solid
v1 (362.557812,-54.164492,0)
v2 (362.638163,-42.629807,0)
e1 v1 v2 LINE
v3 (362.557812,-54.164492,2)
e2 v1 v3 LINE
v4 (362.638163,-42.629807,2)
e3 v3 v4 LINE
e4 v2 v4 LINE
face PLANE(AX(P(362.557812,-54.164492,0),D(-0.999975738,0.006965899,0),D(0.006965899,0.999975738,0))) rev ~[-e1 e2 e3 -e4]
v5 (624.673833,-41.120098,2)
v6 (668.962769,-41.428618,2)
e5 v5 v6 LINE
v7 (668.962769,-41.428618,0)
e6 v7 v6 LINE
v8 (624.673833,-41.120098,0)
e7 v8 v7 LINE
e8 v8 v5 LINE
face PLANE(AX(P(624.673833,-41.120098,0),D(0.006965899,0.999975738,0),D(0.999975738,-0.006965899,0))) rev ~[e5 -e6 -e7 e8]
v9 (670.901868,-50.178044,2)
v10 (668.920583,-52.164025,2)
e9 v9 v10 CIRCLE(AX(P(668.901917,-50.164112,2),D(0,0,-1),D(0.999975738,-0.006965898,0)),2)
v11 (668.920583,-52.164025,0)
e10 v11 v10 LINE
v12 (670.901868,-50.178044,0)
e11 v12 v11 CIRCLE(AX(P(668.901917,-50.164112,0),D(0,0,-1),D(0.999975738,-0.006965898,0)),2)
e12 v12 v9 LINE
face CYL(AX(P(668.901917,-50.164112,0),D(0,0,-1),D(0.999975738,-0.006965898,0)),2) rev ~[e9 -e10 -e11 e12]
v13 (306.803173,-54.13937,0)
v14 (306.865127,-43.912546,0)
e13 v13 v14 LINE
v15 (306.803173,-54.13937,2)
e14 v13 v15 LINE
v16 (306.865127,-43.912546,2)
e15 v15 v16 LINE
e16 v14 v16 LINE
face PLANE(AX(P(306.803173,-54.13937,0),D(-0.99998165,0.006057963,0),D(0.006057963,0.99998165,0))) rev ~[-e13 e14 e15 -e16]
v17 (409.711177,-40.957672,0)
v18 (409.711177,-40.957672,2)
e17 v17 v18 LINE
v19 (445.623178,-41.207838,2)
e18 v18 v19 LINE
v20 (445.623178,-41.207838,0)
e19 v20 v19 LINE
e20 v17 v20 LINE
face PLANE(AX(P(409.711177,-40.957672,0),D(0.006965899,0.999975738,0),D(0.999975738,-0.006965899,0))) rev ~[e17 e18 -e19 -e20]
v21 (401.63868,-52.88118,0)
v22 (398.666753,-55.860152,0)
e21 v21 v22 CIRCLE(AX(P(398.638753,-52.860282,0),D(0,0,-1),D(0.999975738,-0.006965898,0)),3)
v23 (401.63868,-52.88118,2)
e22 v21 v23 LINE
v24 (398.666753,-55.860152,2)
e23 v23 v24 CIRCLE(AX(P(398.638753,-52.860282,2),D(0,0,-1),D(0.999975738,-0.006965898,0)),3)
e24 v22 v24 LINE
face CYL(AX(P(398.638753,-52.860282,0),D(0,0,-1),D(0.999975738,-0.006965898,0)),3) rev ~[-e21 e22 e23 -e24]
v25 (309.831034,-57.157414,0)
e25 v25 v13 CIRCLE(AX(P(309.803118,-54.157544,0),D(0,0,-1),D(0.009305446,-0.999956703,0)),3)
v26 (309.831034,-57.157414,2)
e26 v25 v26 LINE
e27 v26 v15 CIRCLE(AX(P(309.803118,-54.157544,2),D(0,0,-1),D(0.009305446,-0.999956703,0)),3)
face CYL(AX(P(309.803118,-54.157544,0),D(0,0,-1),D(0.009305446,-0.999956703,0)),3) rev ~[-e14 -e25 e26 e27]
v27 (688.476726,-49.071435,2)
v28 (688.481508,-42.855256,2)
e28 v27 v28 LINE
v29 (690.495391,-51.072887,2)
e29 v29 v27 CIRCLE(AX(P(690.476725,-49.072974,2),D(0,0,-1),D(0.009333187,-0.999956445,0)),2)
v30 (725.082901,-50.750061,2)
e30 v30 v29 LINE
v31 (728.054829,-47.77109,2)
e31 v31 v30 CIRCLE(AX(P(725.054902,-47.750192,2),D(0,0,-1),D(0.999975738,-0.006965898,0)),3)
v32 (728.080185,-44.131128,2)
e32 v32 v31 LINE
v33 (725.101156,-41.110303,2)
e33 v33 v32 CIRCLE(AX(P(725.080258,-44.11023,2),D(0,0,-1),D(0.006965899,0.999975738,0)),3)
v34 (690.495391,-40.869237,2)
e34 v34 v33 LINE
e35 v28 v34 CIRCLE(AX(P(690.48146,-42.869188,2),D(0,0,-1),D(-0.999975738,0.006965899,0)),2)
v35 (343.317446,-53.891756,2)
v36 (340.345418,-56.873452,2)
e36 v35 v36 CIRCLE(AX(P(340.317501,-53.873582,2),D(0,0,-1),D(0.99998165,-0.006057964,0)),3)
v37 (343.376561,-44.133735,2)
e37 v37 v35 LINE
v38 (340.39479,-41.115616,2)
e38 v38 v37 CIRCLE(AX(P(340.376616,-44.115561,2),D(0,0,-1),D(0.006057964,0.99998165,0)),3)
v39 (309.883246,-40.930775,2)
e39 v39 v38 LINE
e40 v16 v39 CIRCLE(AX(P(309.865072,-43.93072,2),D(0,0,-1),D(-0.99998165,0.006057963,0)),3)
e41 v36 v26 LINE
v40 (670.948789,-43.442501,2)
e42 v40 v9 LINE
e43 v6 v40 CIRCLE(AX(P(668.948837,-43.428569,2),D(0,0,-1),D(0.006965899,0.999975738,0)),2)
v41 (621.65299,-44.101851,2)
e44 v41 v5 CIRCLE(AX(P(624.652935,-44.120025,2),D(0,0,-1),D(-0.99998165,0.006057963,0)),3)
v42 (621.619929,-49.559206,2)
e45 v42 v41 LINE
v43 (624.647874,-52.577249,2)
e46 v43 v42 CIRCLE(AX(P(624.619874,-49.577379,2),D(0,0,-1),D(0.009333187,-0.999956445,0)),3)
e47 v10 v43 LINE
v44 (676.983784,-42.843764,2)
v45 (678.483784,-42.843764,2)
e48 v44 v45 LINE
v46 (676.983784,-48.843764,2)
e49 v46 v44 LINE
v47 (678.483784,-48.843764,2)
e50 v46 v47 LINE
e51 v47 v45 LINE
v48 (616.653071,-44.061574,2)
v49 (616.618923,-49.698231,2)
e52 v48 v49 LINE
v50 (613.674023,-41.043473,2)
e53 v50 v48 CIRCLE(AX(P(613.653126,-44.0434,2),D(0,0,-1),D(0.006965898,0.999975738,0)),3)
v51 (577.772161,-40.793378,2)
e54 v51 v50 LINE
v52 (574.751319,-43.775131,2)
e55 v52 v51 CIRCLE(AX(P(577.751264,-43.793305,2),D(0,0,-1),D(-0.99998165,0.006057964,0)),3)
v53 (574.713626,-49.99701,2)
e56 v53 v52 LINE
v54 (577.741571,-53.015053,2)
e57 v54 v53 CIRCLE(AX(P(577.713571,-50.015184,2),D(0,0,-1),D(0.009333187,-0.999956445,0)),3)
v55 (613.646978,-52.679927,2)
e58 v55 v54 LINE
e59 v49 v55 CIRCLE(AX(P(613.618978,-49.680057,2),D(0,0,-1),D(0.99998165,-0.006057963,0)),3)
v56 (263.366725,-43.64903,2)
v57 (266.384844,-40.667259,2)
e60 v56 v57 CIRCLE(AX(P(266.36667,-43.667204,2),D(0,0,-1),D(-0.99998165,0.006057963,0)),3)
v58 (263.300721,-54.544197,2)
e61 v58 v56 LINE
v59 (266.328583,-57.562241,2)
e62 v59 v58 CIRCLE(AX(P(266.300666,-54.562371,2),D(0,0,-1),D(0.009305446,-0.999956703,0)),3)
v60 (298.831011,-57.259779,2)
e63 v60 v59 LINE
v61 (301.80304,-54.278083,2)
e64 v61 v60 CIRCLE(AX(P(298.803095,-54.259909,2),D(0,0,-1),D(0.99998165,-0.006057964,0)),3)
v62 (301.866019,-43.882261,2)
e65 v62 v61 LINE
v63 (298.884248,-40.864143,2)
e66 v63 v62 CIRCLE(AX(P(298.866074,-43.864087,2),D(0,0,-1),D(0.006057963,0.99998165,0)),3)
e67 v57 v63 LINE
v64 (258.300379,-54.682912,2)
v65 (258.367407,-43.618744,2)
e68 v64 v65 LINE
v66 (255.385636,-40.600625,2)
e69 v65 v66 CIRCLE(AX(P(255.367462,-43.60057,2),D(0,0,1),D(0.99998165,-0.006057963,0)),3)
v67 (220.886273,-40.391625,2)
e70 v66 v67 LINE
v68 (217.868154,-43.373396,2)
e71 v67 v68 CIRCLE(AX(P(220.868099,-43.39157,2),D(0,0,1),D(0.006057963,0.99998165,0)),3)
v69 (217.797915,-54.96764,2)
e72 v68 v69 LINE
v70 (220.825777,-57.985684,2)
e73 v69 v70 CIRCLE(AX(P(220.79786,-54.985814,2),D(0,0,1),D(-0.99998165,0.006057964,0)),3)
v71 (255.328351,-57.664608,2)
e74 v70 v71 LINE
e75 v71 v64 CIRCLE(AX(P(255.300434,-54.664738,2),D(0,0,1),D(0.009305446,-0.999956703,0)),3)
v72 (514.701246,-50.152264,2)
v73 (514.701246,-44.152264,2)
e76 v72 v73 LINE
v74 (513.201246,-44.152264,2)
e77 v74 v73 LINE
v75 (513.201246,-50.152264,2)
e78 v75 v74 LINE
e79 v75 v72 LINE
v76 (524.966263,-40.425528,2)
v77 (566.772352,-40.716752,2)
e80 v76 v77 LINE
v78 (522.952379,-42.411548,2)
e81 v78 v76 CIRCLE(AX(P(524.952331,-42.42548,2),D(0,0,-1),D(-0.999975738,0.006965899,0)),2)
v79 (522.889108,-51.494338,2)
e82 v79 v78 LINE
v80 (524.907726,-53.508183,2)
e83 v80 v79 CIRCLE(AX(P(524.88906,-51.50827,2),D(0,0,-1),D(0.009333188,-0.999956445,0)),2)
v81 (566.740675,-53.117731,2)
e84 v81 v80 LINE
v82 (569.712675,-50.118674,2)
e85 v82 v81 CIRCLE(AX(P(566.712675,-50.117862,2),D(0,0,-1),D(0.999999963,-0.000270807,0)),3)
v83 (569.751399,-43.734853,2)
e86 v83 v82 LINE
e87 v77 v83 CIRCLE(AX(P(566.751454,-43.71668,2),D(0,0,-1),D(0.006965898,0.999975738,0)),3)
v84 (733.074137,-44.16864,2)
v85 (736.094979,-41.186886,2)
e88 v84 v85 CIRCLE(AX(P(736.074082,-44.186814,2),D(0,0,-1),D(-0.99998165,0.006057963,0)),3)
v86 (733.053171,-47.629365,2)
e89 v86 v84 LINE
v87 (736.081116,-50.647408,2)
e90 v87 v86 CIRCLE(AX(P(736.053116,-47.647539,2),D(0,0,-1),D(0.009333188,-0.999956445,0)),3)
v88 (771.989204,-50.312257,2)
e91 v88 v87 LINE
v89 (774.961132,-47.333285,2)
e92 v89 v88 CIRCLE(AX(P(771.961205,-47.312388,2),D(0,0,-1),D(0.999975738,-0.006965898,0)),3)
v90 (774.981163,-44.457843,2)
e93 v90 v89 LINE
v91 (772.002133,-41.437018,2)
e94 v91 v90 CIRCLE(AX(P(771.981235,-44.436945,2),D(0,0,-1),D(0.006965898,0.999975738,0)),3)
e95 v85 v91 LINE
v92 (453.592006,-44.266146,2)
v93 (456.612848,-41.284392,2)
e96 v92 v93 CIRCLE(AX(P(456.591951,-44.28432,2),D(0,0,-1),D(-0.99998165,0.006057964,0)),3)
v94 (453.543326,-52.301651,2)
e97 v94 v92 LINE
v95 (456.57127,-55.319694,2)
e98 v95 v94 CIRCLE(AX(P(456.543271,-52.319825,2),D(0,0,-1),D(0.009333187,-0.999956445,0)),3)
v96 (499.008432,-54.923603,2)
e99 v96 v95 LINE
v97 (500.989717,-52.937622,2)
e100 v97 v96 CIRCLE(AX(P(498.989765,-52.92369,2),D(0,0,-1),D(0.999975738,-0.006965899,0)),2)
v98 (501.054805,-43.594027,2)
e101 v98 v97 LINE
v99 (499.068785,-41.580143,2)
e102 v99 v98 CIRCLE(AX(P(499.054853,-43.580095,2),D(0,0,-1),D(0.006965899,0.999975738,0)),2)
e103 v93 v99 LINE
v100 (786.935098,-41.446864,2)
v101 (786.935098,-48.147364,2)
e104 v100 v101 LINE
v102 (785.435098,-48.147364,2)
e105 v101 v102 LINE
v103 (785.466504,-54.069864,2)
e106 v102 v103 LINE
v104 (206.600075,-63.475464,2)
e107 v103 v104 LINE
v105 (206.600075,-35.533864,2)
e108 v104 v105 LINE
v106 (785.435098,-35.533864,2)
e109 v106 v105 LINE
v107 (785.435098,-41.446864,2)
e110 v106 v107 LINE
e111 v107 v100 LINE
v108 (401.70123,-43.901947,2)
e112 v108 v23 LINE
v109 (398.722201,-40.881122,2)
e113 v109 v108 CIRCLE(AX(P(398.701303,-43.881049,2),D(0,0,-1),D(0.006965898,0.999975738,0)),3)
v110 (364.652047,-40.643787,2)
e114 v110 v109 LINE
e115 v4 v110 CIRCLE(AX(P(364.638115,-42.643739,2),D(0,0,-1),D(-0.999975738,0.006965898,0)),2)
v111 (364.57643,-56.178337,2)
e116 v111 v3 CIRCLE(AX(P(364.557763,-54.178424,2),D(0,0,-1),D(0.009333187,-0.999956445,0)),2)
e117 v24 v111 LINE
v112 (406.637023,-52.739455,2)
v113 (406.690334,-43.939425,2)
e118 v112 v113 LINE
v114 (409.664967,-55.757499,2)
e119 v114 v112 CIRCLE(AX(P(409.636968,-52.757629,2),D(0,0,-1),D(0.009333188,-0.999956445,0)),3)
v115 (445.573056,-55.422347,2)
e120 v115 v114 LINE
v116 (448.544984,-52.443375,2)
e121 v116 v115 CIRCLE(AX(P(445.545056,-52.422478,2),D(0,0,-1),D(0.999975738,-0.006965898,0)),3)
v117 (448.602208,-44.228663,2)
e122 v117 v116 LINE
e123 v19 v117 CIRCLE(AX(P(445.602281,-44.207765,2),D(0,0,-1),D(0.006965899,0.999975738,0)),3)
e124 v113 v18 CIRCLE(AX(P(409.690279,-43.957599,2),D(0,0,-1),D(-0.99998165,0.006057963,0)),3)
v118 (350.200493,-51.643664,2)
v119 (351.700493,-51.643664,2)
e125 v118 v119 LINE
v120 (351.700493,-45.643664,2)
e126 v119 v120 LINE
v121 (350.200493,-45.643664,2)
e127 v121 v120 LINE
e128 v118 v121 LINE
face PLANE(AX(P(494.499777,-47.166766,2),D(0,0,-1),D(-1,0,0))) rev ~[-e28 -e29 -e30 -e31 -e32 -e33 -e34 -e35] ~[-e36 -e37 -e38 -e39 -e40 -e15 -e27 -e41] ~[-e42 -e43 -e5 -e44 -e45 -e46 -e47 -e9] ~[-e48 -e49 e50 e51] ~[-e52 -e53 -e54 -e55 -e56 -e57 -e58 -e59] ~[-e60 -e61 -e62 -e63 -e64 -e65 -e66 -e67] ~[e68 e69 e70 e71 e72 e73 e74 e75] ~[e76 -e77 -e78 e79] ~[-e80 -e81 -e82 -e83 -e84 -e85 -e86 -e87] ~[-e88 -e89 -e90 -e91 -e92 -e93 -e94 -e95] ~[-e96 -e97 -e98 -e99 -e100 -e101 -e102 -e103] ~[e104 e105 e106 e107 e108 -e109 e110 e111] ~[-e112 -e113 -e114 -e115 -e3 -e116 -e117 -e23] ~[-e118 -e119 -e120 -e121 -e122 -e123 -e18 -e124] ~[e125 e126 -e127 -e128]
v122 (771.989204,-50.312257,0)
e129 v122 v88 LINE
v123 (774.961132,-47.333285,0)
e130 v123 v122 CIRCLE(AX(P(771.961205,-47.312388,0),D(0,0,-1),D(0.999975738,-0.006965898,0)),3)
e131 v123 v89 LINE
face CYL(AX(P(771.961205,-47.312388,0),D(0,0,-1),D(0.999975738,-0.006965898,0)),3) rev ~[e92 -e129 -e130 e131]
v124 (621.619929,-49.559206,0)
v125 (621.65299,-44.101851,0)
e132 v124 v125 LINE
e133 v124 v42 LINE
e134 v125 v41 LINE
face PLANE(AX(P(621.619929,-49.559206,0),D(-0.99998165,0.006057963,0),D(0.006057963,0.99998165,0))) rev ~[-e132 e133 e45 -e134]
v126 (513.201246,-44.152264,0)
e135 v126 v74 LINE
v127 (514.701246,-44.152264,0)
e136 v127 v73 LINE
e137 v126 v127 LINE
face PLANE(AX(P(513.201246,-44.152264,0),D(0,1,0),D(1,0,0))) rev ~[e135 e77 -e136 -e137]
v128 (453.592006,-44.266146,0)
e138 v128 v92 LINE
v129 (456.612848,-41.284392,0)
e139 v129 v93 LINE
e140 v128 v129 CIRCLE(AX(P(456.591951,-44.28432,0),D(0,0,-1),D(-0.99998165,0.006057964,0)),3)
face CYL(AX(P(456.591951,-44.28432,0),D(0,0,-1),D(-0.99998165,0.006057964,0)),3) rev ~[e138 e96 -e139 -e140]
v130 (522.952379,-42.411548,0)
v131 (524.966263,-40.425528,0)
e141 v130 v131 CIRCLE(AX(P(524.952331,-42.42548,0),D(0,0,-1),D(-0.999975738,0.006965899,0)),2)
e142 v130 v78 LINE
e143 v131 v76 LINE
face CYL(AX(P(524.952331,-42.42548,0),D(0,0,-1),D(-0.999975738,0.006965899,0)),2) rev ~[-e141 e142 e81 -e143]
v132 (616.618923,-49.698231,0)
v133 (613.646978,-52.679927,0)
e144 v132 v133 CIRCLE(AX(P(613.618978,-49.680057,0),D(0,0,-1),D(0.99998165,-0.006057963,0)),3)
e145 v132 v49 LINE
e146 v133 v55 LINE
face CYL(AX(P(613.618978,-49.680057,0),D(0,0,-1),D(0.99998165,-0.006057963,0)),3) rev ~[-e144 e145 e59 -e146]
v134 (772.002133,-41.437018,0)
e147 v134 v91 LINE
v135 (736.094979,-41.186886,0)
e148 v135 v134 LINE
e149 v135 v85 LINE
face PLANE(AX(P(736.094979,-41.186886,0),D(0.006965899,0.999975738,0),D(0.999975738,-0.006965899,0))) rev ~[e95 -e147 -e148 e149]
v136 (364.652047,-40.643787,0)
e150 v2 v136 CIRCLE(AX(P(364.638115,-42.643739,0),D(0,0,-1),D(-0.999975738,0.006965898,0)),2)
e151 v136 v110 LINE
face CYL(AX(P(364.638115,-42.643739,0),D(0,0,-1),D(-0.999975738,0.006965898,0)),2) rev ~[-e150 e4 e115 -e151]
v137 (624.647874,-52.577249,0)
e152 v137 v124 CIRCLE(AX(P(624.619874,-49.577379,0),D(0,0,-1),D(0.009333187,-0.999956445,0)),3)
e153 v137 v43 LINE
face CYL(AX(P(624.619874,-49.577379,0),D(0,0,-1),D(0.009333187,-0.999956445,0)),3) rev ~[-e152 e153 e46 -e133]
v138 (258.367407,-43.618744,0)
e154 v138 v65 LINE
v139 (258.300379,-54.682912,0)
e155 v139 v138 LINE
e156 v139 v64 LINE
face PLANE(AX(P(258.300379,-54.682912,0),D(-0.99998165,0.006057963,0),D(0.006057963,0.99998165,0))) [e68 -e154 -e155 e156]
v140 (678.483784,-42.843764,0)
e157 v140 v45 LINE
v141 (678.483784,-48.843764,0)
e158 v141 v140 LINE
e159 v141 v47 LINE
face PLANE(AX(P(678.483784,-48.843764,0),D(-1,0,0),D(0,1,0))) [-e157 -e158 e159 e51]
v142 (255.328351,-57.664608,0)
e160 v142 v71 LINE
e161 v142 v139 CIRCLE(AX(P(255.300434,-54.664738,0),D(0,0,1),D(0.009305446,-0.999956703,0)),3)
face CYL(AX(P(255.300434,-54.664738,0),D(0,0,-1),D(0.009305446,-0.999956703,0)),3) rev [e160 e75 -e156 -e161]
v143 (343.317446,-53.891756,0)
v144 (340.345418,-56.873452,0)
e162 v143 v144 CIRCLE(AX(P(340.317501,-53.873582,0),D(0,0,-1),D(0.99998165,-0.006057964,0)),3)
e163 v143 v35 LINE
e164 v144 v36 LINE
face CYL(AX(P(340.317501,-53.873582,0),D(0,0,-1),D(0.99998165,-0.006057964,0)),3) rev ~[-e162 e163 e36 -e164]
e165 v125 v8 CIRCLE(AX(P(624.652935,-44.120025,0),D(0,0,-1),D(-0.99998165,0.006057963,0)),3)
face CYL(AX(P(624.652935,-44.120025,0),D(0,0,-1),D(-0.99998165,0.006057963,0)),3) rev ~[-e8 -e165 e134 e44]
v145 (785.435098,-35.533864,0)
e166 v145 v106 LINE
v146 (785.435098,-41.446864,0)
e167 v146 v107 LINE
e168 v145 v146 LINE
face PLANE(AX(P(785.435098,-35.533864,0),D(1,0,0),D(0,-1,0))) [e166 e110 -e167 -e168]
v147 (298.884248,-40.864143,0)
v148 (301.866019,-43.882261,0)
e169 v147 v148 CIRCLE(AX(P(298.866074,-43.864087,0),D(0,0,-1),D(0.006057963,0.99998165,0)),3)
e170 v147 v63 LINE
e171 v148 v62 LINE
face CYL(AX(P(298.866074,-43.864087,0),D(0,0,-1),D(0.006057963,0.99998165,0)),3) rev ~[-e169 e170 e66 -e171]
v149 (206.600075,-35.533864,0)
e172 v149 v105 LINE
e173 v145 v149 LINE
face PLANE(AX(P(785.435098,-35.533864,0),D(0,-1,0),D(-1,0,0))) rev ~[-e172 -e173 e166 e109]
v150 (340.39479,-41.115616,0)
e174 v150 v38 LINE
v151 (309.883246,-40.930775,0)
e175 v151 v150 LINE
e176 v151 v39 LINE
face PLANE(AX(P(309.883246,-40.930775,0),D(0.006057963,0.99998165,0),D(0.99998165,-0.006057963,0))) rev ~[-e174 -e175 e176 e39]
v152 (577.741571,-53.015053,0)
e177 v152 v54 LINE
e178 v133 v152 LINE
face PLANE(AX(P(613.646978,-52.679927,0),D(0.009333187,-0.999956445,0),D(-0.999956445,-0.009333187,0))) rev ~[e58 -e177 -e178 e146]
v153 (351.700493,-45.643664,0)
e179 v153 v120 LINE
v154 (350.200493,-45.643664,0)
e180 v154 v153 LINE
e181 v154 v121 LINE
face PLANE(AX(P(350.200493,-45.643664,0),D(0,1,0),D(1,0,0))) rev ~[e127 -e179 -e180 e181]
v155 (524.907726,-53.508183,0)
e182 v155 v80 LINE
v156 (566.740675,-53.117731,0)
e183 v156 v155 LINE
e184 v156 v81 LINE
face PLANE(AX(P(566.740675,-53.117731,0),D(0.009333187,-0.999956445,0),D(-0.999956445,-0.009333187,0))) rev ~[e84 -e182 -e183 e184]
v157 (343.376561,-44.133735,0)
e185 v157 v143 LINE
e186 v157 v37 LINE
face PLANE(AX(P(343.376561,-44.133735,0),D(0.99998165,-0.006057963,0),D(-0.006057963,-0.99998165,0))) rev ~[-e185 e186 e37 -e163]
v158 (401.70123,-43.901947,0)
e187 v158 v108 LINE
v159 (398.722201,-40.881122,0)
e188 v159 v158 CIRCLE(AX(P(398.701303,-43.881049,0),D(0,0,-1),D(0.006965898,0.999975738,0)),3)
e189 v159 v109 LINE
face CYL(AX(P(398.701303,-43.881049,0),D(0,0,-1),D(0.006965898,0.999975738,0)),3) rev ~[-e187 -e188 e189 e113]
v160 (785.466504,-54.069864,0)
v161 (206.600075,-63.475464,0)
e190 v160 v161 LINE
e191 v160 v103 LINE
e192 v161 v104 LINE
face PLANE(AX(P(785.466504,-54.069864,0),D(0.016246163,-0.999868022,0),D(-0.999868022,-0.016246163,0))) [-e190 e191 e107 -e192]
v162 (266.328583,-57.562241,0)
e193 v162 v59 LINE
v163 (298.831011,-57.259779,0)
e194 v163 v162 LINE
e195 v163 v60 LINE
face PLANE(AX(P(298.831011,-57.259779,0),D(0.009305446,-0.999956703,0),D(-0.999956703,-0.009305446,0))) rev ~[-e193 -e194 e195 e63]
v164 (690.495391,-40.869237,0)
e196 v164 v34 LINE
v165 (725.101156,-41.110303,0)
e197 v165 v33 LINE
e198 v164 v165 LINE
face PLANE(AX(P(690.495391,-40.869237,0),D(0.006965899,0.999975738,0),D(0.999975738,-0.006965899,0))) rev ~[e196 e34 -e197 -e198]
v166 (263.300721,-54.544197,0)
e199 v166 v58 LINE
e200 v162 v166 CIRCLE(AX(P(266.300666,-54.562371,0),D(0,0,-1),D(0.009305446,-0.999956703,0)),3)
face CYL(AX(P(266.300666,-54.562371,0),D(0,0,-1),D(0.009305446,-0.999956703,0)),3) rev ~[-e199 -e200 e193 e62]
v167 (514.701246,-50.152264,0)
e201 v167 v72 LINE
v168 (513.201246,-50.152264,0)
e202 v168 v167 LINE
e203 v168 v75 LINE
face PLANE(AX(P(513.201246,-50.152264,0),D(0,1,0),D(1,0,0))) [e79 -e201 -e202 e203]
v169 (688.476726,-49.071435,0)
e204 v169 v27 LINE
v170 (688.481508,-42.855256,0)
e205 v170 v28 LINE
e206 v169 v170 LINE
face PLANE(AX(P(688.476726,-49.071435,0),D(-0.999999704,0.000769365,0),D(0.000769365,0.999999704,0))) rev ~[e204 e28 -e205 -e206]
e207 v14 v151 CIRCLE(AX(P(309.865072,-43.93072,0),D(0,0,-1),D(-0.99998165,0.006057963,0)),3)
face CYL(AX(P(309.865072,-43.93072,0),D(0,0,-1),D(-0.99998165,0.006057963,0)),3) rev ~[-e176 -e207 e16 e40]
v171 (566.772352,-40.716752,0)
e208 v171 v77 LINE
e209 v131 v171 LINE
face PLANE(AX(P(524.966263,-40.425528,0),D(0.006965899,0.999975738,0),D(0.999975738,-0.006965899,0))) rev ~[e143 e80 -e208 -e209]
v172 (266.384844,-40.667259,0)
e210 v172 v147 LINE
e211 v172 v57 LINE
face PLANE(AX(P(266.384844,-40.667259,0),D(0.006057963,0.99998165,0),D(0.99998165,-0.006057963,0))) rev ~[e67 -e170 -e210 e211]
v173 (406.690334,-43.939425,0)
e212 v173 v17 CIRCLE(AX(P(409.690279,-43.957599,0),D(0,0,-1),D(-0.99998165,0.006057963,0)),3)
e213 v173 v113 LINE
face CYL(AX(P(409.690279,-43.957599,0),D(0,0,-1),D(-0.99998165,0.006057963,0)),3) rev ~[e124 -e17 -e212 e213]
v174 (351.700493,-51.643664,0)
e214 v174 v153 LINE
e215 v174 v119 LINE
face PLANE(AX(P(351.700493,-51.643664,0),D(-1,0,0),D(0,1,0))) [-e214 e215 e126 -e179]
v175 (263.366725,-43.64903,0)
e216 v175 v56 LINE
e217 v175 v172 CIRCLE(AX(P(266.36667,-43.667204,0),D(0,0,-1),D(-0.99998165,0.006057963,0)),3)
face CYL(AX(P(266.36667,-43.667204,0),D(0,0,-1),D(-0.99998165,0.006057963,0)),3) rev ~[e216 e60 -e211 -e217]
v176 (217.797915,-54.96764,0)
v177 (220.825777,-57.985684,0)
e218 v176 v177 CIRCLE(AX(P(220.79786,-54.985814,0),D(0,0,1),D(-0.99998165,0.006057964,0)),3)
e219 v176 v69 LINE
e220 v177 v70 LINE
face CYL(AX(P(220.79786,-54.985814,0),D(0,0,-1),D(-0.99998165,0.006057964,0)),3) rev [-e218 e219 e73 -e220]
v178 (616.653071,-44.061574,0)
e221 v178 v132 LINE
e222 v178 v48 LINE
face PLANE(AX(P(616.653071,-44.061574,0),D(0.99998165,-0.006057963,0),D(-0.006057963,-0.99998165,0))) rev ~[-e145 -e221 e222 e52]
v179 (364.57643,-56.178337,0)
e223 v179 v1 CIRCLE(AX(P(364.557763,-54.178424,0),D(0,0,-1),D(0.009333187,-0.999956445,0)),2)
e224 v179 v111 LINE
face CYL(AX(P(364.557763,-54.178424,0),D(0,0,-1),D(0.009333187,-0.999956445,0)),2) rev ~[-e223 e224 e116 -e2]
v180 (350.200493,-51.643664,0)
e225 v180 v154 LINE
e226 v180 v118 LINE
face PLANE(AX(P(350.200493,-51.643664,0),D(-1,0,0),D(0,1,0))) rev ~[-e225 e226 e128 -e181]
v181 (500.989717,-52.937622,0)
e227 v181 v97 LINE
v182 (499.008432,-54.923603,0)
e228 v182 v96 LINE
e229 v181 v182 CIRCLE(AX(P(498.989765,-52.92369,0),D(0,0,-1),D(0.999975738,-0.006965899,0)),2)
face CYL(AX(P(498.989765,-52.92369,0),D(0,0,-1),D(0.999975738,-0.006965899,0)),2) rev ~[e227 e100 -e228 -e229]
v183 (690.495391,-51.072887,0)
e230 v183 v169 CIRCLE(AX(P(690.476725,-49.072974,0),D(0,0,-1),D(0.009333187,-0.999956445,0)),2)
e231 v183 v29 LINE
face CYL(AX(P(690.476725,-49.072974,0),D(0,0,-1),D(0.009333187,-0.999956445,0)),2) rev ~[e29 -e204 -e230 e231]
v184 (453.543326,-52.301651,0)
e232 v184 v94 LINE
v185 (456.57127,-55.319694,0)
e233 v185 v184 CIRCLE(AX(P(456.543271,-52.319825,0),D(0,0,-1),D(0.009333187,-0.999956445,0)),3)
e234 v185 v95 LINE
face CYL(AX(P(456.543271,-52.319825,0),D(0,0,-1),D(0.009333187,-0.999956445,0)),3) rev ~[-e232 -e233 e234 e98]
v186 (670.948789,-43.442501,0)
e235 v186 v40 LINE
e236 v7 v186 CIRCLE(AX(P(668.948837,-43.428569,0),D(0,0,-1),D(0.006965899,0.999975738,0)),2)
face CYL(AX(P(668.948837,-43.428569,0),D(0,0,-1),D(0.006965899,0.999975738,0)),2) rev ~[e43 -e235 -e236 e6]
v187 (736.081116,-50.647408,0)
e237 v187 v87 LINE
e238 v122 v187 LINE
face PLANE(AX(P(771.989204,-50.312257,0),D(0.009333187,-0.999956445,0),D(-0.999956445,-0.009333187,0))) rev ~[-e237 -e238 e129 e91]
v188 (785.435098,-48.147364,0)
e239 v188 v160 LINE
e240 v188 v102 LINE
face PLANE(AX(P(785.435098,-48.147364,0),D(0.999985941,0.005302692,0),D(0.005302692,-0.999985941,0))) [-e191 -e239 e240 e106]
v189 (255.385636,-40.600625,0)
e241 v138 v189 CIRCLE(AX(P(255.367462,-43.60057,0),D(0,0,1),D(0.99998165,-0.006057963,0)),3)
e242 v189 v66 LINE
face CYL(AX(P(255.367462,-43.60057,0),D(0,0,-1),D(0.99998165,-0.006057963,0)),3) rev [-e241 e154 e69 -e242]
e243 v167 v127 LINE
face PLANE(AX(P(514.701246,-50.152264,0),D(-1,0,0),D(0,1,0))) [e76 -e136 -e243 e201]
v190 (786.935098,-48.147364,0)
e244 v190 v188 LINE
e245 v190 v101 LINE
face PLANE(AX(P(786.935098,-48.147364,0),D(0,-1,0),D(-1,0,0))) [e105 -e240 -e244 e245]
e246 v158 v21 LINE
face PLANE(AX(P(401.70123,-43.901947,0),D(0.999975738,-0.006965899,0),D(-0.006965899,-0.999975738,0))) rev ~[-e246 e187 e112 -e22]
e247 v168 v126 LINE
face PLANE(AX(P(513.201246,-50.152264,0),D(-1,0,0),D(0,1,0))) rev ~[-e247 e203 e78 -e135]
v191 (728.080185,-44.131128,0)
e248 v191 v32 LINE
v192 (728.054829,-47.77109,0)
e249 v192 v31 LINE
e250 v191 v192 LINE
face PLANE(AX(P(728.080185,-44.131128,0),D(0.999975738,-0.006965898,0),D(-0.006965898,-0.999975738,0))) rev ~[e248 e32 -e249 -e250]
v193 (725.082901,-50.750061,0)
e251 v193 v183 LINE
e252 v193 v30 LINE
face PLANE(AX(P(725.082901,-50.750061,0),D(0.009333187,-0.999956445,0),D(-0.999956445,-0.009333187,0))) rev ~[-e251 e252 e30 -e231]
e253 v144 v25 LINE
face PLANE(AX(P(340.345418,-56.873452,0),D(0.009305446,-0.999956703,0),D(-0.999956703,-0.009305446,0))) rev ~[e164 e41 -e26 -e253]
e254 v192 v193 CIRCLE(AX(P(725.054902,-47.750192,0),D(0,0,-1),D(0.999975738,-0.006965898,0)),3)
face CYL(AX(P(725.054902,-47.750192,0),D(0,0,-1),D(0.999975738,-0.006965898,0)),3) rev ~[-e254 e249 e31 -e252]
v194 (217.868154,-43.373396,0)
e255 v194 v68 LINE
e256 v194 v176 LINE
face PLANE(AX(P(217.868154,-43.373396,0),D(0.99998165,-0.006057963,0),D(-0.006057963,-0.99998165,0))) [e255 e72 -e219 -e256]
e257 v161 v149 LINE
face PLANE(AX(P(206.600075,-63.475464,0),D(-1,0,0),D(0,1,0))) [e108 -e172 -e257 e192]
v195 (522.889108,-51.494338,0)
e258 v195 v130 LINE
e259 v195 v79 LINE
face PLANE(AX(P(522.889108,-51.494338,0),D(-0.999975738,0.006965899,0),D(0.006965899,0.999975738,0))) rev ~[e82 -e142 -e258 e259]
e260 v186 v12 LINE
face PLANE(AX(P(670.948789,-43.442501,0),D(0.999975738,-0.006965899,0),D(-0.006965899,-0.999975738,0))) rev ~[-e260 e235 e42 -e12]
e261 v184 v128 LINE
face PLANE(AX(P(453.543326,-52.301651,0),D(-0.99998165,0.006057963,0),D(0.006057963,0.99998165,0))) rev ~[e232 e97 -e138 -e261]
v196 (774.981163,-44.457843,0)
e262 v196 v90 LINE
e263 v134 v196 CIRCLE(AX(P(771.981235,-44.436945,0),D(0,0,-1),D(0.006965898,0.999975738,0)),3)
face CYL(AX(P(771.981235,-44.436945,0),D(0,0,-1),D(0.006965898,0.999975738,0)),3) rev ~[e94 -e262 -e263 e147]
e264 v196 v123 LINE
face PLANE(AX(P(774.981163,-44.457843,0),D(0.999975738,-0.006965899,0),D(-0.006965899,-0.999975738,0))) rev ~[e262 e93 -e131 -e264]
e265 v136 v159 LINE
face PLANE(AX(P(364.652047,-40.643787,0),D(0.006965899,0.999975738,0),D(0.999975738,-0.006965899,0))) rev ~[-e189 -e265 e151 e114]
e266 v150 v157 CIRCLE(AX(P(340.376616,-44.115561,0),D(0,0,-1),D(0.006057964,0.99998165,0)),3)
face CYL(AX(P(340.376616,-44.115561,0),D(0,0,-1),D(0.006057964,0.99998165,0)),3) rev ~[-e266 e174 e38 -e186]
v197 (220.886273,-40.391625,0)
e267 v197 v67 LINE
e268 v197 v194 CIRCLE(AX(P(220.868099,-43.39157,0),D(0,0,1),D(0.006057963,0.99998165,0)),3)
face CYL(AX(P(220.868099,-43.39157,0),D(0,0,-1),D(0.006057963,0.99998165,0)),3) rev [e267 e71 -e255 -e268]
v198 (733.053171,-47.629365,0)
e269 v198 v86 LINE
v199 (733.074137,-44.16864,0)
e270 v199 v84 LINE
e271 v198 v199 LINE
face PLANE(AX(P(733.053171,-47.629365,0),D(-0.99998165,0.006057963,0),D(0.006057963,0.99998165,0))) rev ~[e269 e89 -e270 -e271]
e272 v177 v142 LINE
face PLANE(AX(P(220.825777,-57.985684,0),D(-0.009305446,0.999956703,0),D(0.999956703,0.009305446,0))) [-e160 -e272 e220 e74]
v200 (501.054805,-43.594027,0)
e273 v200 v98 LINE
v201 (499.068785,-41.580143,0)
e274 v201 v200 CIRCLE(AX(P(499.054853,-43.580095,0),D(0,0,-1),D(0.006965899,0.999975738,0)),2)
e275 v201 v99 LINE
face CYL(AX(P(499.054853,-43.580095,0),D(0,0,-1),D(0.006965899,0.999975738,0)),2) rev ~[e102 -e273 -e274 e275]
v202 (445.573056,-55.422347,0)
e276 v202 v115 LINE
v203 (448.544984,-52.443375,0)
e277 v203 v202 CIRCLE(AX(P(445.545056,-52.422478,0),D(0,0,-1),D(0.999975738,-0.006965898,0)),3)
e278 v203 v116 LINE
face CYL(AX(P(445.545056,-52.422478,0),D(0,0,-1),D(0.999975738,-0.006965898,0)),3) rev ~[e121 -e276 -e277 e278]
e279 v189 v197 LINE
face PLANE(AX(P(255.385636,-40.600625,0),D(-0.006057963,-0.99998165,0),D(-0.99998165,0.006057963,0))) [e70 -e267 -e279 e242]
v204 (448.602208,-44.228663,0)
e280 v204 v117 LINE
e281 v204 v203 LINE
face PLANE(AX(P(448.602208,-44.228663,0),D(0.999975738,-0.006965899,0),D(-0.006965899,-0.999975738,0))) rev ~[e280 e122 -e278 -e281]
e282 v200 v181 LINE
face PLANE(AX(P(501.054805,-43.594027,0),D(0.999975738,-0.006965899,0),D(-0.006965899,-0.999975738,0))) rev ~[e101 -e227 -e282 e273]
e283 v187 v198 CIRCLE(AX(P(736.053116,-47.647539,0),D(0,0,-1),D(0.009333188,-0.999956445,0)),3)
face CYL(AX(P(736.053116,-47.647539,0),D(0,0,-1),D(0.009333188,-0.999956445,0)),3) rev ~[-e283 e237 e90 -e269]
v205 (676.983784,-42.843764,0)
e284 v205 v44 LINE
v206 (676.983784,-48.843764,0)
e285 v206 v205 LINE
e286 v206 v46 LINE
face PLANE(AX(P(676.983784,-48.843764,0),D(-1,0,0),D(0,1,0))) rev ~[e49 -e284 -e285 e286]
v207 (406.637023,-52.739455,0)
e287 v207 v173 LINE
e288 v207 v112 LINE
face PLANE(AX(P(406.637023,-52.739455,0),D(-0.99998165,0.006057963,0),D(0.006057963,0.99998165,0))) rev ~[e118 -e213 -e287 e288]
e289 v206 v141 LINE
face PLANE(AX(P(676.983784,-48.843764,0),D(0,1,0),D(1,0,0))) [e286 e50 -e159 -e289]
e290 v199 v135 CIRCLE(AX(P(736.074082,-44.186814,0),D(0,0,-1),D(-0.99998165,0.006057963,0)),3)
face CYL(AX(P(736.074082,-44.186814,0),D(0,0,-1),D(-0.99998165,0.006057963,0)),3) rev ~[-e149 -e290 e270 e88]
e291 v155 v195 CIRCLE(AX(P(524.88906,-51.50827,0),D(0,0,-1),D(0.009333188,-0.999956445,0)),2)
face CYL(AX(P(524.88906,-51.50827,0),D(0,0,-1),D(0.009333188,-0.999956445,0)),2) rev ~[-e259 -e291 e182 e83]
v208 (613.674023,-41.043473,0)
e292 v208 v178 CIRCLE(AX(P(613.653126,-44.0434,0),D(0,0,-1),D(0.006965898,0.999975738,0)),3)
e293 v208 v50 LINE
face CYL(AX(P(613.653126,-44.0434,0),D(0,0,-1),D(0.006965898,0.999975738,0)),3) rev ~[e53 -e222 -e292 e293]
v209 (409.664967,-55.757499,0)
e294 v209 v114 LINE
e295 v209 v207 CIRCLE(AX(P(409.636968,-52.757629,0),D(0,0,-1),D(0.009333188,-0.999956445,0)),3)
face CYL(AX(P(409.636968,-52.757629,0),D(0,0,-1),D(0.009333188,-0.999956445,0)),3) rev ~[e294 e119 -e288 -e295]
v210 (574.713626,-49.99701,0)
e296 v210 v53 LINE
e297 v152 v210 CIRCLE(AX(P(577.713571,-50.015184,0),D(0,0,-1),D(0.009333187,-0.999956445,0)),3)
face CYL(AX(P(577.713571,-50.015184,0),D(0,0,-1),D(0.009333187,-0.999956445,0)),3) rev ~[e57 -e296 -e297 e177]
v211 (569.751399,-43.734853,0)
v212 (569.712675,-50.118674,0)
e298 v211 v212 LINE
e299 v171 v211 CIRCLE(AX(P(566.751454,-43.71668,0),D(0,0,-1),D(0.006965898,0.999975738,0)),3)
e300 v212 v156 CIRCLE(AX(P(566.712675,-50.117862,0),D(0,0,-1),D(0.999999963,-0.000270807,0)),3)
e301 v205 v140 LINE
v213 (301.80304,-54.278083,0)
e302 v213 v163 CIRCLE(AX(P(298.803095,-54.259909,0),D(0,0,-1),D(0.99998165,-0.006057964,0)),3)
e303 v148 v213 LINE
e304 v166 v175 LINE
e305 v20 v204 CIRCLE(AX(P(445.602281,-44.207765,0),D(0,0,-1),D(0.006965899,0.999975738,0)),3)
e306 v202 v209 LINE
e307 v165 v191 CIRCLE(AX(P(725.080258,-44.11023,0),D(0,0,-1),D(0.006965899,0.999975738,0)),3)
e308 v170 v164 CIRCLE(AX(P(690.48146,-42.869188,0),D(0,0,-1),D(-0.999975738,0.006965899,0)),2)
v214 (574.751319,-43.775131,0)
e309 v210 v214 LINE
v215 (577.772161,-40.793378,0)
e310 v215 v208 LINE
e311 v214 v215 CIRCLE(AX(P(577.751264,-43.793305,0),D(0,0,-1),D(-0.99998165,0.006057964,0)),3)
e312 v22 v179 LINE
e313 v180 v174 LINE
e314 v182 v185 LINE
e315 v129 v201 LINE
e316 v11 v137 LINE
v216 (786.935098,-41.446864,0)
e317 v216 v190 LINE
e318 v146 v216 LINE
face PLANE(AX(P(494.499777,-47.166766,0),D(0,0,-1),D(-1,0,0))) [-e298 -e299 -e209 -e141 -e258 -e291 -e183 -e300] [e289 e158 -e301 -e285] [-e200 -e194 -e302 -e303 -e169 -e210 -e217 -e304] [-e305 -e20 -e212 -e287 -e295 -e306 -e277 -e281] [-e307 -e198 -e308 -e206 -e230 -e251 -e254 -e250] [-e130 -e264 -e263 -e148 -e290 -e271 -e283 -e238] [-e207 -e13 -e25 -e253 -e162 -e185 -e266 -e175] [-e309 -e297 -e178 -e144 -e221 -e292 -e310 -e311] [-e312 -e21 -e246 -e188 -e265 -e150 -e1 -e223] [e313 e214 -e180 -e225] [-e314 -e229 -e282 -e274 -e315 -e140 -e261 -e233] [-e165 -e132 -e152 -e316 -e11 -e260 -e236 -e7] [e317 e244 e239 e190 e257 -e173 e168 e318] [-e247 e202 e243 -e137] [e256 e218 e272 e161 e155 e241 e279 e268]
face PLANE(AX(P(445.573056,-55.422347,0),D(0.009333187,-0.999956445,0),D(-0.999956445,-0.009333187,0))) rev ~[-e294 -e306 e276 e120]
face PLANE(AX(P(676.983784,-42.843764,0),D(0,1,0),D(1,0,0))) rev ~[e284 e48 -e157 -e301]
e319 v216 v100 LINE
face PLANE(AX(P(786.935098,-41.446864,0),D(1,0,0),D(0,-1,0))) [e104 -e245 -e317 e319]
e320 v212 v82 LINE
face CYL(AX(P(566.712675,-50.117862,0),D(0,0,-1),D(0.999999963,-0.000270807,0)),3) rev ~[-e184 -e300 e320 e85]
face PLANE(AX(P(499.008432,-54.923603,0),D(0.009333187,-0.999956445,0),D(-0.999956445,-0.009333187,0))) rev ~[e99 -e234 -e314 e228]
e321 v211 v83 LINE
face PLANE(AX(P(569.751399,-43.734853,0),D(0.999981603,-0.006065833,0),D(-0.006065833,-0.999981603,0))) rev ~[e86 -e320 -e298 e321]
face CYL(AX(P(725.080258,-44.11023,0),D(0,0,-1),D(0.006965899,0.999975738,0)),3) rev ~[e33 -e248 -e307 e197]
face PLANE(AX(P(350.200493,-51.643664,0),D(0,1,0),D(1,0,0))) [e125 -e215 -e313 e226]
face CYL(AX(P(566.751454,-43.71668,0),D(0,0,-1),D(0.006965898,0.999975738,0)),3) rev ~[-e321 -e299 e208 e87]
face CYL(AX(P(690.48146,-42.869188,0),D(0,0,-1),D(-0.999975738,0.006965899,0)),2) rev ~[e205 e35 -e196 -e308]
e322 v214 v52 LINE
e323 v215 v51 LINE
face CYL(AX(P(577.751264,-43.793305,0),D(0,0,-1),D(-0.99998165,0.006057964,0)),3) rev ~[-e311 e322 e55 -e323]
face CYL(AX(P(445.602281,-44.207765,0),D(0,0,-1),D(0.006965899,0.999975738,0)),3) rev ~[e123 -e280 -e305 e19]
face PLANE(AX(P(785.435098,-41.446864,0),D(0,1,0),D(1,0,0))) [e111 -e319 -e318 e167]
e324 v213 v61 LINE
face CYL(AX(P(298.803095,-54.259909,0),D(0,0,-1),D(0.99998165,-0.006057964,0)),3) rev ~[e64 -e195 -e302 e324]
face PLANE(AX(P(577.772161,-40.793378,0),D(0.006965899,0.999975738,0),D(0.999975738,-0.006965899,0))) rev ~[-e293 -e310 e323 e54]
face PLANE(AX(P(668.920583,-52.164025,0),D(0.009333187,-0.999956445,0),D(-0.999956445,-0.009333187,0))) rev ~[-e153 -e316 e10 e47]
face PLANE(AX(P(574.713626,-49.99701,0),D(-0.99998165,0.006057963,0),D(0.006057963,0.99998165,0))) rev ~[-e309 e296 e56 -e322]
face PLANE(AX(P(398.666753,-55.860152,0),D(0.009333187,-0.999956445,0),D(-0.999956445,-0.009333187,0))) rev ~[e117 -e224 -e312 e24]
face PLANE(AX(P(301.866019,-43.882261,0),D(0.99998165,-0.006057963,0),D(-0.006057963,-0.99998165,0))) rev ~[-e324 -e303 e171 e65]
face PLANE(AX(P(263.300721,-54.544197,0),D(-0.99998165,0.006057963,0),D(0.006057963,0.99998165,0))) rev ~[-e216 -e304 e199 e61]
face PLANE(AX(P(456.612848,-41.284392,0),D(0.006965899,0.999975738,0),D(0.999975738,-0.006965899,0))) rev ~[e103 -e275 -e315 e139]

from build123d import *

# Parameters (mm, degrees)
MODEL_W         = 1.5
MODEL_H         = 6
EXTRUDE_1_DEPTH = 2


with BuildPart() as part:
    # Model → 凸台-拉伸1 (new body)
    with BuildSketch(Plane.XY):
        Polygon((785.435098254, -35.533863858), (785.435098254, -41.446863858), (786.935098254, -41.446863858), (786.935098254, -48.147363858), (785.435098254, -48.147363858), (785.466503891, -54.069864101), (206.600074702, -63.475463858), (206.600074702, -35.533863858), (351.503693607, -35.533863858), (514.281059293, -35.533863858), (677.839139625, -35.533863858), align=None)
        with Locations((350.950492985, -48.643663858)):
            Rectangle(MODEL_W, MODEL_H, mode=Mode.SUBTRACT)
        with Locations((513.951245542, -47.152263858)):
            Rectangle(MODEL_W, MODEL_H, mode=Mode.SUBTRACT)
        with Locations((677.733784151, -45.843763858)):
            Rectangle(MODEL_W, MODEL_H, mode=Mode.SUBTRACT)
        with BuildLine():
            Line((255.385635934, -40.600624691), (220.886272881, -40.391624977))
            ThreePointArc((220.886272881, -40.391624977), (218.759668454, -41.257437629), (217.86815404, -43.373396038))
            Line((217.86815404, -43.373396038), (217.797915248, -54.967639695))
            ThreePointArc((217.797915248, -54.967639695), (218.679987229, -57.11057571), (220.825776537, -57.985683696))
            Line((220.825776537, -57.985683696), (255.328350826, -57.664607948))
            ThreePointArc((255.328350826, -57.664607948), (257.425196612, -56.782610808), (258.300379439, -54.682911728))
            Line((258.300379439, -54.682911728), (258.367406995, -43.618743532))
            ThreePointArc((258.367406995, -43.618743532), (257.501594343, -41.492139105), (255.385635934, -40.600624691))
        make_face(mode=Mode.SUBTRACT)
        with BuildLine():
            Line((343.376561044, -44.133735324), (343.317446229, -53.891755741))
            ThreePointArc((343.317446229, -53.891755741), (342.442263402, -55.99145482), (340.345417617, -56.873451961))
            Line((340.345417617, -56.873451961), (309.831033894, -57.157414209))
            ThreePointArc((309.831033894, -57.157414209), (307.685244586, -56.282306223), (306.803172604, -54.139370208))
            Line((306.803172604, -54.139370208), (306.865127466, -43.912546338))
            ThreePointArc((306.865127466, -43.912546338), (307.75664188, -41.796587929), (309.883246307, -40.930775277))
            Line((309.883246307, -40.930775277), (340.394789984, -41.115616483))
            ThreePointArc((340.394789984, -41.115616483), (342.510748392, -42.007130897), (343.376561044, -44.133735324))
        make_face(mode=Mode.SUBTRACT)
        with BuildLine():
            Line((266.384844011, -40.667258713), (298.884247648, -40.864142523))
            ThreePointArc((298.884247648, -40.864142523), (301.000206057, -41.755656937), (301.866018709, -43.882261364))
            Line((301.866018709, -43.882261364), (301.803040049, -54.278082537))
            ThreePointArc((301.803040049, -54.278082537), (300.927857222, -56.377781616), (298.831011437, -57.259778757))
            Line((298.831011437, -57.259778757), (266.328582721, -57.562241451))
            ThreePointArc((266.328582721, -57.562241451), (264.182793413, -56.687133465), (263.300721432, -54.544197451))
            Line((263.300721432, -54.544197451), (263.36672517, -43.649029774))
            ThreePointArc((263.36672517, -43.649029774), (264.258239584, -41.533071365), (266.384844011, -40.667258713))
        make_face(mode=Mode.SUBTRACT)
        with BuildLine():
            Line((364.652046592, -40.643787214), (398.722200855, -40.881122213))
            ThreePointArc((398.722200855, -40.881122213), (400.837348938, -41.774557453), (401.701230373, -43.901947122))
            Line((401.701230373, -43.901947122), (401.638680431, -52.881179864))
            ThreePointArc((401.638680431, -52.881179864), (400.762583047, -54.979090054), (398.666752779, -55.860151503))
            Line((398.666752779, -55.860151503), (364.576429773, -56.178336732))
            ThreePointArc((364.576429773, -56.178336732), (363.145224808, -55.594310395), (362.557811922, -54.164492045))
            Line((362.557811922, -54.164492045), (362.638163319, -42.629806893))
            ThreePointArc((362.638163319, -42.629806893), (363.233786812, -41.219708171), (364.652046592, -40.643787214))
        make_face(mode=Mode.SUBTRACT)
        with BuildLine():
            Line((409.711176711, -40.957672161), (445.623178301, -41.207837593))
            ThreePointArc((445.623178301, -41.207837593), (447.738326383, -42.101272833), (448.602207819, -44.228662502))
            Line((448.602207819, -44.228662502), (448.544983573, -52.443375482))
            ThreePointArc((448.544983573, -52.443375482), (447.668886189, -54.541285672), (445.573055921, -55.422347121))
            Line((445.573055921, -55.422347121), (409.66496734, -55.757498635))
            ThreePointArc((409.66496734, -55.757498635), (407.519124281, -54.882420802), (406.637022827, -52.739455411))
            Line((406.637022827, -52.739455411), (406.690334064, -43.939425485))
            ThreePointArc((406.690334064, -43.939425485), (407.582817543, -41.822510116), (409.711176711, -40.957672161))
        make_face(mode=Mode.SUBTRACT)
        with BuildLine():
            Line((456.612848306, -41.284392377), (499.068785272, -41.580143304))
            ThreePointArc((499.068785272, -41.580143304), (500.478883993, -42.175766798), (501.05480495, -43.594026577))
            Line((501.05480495, -43.594026577), (500.989716833, -52.937621934))
            ThreePointArc((500.989716833, -52.937621934), (500.40565191, -54.336228727), (499.008431732, -54.923603027))
            Line((499.008431732, -54.923603027), (456.571270482, -55.319694254))
            ThreePointArc((456.571270482, -55.319694254), (454.425427423, -54.44461642), (453.543325968, -52.301651029))
            Line((453.543325968, -52.301651029), (453.592005659, -44.2661457))
            ThreePointArc((453.592005659, -44.2661457), (454.484489138, -42.149230332), (456.612848306, -41.284392377))
        make_face(mode=Mode.SUBTRACT)
        with BuildLine():
            Line((524.966262719, -40.425528272), (566.772351734, -40.716752315))
            ThreePointArc((566.772351734, -40.716752315), (568.886543297, -41.609218056), (569.751398989, -43.734853418))
            Line((569.751398989, -43.734853418), (569.712675089, -50.118674115))
            ThreePointArc((569.712675089, -50.118674115), (568.843585982, -52.229548043), (566.740674761, -53.117731028))
            Line((566.740674761, -53.117731028), (524.907725967, -53.508182781))
            ThreePointArc((524.907725967, -53.508182781), (523.476521002, -52.924156445), (522.889108116, -51.494338094))
            Line((522.889108116, -51.494338094), (522.952379447, -42.41154795))
            ThreePointArc((522.952379447, -42.41154795), (523.54800294, -41.001449229), (524.966262719, -40.425528272))
        make_face(mode=Mode.SUBTRACT)
        with BuildLine():
            Line((577.772161323, -40.793377732), (613.674023329, -41.04347253))
            ThreePointArc((613.674023329, -41.04347253), (615.788214892, -41.935938271), (616.653070584, -44.061573634))
            Line((616.653070584, -44.061573634), (616.618923292, -49.698231202))
            ThreePointArc((616.618923292, -49.698231202), (615.743769843, -51.797900808), (613.646977903, -52.679926646))
            Line((613.646977903, -52.679926646), (577.741570583, -53.015053135))
            ThreePointArc((577.741570583, -53.015053135), (575.595727525, -52.139975302), (574.71362607, -49.99700991))
            Line((574.71362607, -49.99700991), (574.751318676, -43.775131055))
            ThreePointArc((574.751318676, -43.775131055), (575.643802155, -41.658215687), (577.772161323, -40.793377732))
        make_face(mode=Mode.SUBTRACT)
        with BuildLine():
            Line((624.673832918, -41.120097947), (668.962768968, -41.42861767))
            ThreePointArc((668.962768968, -41.42861767), (670.372867689, -42.024241164), (670.948788646, -43.442500943))
            Line((670.948788646, -43.442500943), (670.901868396, -50.178044171))
            ThreePointArc((670.901868396, -50.178044171), (670.317803474, -51.576650964), (668.920583295, -52.164025264))
            Line((668.920583295, -52.164025264), (624.647873725, -52.577248753))
            ThreePointArc((624.647873725, -52.577248753), (622.502030667, -51.70217092), (621.619929212, -49.559205528))
            Line((621.619929212, -49.559205528), (621.652990271, -44.101851271))
            ThreePointArc((621.652990271, -44.101851271), (622.54547375, -41.984935902), (624.673832918, -41.120097947))
        make_face(mode=Mode.SUBTRACT)
        with BuildLine():
            Line((690.49539131, -40.869236621), (725.101155649, -41.110302716))
            ThreePointArc((725.101155649, -41.110302716), (727.216303731, -42.003737956), (728.080185166, -44.131127625))
            Line((728.080185166, -44.131127625), (728.054828945, -47.77108965))
            ThreePointArc((728.054828945, -47.77108965), (727.178731561, -49.86899984), (725.082901293, -50.750061289))
            Line((725.082901293, -50.750061289), (690.49539131, -51.072887059))
            ThreePointArc((690.49539131, -51.072887059), (689.068579953, -50.493230381), (688.476725528, -49.07143544))
            Line((688.476725528, -49.07143544), (688.481508037, -42.8552563))
            ThreePointArc((688.481508037, -42.8552563), (689.077131531, -41.445157578), (690.49539131, -40.869236621))
        make_face(mode=Mode.SUBTRACT)
        with BuildLine():
            Line((736.09497932, -41.186886435), (772.002133094, -41.437018096))
            ThreePointArc((772.002133094, -41.437018096), (774.117281177, -42.330453336), (774.981162612, -44.457843005))
            Line((774.981162612, -44.457843005), (774.961132087, -47.333285268))
            ThreePointArc((774.961132087, -47.333285268), (774.085034703, -49.431195458), (771.989204435, -50.312256907))
            Line((771.989204435, -50.312256907), (736.081115854, -50.647408421))
            ThreePointArc((736.081115854, -50.647408421), (733.935272795, -49.772330588), (733.053171341, -47.629365197))
            Line((733.053171341, -47.629365197), (733.074136673, -44.168639758))
            ThreePointArc((733.074136673, -44.168639758), (733.966620152, -42.051724389), (736.09497932, -41.186886435))
        make_face(mode=Mode.SUBTRACT)
    extrude(amount=EXTRUDE_1_DEPTH)


solid = part.part
